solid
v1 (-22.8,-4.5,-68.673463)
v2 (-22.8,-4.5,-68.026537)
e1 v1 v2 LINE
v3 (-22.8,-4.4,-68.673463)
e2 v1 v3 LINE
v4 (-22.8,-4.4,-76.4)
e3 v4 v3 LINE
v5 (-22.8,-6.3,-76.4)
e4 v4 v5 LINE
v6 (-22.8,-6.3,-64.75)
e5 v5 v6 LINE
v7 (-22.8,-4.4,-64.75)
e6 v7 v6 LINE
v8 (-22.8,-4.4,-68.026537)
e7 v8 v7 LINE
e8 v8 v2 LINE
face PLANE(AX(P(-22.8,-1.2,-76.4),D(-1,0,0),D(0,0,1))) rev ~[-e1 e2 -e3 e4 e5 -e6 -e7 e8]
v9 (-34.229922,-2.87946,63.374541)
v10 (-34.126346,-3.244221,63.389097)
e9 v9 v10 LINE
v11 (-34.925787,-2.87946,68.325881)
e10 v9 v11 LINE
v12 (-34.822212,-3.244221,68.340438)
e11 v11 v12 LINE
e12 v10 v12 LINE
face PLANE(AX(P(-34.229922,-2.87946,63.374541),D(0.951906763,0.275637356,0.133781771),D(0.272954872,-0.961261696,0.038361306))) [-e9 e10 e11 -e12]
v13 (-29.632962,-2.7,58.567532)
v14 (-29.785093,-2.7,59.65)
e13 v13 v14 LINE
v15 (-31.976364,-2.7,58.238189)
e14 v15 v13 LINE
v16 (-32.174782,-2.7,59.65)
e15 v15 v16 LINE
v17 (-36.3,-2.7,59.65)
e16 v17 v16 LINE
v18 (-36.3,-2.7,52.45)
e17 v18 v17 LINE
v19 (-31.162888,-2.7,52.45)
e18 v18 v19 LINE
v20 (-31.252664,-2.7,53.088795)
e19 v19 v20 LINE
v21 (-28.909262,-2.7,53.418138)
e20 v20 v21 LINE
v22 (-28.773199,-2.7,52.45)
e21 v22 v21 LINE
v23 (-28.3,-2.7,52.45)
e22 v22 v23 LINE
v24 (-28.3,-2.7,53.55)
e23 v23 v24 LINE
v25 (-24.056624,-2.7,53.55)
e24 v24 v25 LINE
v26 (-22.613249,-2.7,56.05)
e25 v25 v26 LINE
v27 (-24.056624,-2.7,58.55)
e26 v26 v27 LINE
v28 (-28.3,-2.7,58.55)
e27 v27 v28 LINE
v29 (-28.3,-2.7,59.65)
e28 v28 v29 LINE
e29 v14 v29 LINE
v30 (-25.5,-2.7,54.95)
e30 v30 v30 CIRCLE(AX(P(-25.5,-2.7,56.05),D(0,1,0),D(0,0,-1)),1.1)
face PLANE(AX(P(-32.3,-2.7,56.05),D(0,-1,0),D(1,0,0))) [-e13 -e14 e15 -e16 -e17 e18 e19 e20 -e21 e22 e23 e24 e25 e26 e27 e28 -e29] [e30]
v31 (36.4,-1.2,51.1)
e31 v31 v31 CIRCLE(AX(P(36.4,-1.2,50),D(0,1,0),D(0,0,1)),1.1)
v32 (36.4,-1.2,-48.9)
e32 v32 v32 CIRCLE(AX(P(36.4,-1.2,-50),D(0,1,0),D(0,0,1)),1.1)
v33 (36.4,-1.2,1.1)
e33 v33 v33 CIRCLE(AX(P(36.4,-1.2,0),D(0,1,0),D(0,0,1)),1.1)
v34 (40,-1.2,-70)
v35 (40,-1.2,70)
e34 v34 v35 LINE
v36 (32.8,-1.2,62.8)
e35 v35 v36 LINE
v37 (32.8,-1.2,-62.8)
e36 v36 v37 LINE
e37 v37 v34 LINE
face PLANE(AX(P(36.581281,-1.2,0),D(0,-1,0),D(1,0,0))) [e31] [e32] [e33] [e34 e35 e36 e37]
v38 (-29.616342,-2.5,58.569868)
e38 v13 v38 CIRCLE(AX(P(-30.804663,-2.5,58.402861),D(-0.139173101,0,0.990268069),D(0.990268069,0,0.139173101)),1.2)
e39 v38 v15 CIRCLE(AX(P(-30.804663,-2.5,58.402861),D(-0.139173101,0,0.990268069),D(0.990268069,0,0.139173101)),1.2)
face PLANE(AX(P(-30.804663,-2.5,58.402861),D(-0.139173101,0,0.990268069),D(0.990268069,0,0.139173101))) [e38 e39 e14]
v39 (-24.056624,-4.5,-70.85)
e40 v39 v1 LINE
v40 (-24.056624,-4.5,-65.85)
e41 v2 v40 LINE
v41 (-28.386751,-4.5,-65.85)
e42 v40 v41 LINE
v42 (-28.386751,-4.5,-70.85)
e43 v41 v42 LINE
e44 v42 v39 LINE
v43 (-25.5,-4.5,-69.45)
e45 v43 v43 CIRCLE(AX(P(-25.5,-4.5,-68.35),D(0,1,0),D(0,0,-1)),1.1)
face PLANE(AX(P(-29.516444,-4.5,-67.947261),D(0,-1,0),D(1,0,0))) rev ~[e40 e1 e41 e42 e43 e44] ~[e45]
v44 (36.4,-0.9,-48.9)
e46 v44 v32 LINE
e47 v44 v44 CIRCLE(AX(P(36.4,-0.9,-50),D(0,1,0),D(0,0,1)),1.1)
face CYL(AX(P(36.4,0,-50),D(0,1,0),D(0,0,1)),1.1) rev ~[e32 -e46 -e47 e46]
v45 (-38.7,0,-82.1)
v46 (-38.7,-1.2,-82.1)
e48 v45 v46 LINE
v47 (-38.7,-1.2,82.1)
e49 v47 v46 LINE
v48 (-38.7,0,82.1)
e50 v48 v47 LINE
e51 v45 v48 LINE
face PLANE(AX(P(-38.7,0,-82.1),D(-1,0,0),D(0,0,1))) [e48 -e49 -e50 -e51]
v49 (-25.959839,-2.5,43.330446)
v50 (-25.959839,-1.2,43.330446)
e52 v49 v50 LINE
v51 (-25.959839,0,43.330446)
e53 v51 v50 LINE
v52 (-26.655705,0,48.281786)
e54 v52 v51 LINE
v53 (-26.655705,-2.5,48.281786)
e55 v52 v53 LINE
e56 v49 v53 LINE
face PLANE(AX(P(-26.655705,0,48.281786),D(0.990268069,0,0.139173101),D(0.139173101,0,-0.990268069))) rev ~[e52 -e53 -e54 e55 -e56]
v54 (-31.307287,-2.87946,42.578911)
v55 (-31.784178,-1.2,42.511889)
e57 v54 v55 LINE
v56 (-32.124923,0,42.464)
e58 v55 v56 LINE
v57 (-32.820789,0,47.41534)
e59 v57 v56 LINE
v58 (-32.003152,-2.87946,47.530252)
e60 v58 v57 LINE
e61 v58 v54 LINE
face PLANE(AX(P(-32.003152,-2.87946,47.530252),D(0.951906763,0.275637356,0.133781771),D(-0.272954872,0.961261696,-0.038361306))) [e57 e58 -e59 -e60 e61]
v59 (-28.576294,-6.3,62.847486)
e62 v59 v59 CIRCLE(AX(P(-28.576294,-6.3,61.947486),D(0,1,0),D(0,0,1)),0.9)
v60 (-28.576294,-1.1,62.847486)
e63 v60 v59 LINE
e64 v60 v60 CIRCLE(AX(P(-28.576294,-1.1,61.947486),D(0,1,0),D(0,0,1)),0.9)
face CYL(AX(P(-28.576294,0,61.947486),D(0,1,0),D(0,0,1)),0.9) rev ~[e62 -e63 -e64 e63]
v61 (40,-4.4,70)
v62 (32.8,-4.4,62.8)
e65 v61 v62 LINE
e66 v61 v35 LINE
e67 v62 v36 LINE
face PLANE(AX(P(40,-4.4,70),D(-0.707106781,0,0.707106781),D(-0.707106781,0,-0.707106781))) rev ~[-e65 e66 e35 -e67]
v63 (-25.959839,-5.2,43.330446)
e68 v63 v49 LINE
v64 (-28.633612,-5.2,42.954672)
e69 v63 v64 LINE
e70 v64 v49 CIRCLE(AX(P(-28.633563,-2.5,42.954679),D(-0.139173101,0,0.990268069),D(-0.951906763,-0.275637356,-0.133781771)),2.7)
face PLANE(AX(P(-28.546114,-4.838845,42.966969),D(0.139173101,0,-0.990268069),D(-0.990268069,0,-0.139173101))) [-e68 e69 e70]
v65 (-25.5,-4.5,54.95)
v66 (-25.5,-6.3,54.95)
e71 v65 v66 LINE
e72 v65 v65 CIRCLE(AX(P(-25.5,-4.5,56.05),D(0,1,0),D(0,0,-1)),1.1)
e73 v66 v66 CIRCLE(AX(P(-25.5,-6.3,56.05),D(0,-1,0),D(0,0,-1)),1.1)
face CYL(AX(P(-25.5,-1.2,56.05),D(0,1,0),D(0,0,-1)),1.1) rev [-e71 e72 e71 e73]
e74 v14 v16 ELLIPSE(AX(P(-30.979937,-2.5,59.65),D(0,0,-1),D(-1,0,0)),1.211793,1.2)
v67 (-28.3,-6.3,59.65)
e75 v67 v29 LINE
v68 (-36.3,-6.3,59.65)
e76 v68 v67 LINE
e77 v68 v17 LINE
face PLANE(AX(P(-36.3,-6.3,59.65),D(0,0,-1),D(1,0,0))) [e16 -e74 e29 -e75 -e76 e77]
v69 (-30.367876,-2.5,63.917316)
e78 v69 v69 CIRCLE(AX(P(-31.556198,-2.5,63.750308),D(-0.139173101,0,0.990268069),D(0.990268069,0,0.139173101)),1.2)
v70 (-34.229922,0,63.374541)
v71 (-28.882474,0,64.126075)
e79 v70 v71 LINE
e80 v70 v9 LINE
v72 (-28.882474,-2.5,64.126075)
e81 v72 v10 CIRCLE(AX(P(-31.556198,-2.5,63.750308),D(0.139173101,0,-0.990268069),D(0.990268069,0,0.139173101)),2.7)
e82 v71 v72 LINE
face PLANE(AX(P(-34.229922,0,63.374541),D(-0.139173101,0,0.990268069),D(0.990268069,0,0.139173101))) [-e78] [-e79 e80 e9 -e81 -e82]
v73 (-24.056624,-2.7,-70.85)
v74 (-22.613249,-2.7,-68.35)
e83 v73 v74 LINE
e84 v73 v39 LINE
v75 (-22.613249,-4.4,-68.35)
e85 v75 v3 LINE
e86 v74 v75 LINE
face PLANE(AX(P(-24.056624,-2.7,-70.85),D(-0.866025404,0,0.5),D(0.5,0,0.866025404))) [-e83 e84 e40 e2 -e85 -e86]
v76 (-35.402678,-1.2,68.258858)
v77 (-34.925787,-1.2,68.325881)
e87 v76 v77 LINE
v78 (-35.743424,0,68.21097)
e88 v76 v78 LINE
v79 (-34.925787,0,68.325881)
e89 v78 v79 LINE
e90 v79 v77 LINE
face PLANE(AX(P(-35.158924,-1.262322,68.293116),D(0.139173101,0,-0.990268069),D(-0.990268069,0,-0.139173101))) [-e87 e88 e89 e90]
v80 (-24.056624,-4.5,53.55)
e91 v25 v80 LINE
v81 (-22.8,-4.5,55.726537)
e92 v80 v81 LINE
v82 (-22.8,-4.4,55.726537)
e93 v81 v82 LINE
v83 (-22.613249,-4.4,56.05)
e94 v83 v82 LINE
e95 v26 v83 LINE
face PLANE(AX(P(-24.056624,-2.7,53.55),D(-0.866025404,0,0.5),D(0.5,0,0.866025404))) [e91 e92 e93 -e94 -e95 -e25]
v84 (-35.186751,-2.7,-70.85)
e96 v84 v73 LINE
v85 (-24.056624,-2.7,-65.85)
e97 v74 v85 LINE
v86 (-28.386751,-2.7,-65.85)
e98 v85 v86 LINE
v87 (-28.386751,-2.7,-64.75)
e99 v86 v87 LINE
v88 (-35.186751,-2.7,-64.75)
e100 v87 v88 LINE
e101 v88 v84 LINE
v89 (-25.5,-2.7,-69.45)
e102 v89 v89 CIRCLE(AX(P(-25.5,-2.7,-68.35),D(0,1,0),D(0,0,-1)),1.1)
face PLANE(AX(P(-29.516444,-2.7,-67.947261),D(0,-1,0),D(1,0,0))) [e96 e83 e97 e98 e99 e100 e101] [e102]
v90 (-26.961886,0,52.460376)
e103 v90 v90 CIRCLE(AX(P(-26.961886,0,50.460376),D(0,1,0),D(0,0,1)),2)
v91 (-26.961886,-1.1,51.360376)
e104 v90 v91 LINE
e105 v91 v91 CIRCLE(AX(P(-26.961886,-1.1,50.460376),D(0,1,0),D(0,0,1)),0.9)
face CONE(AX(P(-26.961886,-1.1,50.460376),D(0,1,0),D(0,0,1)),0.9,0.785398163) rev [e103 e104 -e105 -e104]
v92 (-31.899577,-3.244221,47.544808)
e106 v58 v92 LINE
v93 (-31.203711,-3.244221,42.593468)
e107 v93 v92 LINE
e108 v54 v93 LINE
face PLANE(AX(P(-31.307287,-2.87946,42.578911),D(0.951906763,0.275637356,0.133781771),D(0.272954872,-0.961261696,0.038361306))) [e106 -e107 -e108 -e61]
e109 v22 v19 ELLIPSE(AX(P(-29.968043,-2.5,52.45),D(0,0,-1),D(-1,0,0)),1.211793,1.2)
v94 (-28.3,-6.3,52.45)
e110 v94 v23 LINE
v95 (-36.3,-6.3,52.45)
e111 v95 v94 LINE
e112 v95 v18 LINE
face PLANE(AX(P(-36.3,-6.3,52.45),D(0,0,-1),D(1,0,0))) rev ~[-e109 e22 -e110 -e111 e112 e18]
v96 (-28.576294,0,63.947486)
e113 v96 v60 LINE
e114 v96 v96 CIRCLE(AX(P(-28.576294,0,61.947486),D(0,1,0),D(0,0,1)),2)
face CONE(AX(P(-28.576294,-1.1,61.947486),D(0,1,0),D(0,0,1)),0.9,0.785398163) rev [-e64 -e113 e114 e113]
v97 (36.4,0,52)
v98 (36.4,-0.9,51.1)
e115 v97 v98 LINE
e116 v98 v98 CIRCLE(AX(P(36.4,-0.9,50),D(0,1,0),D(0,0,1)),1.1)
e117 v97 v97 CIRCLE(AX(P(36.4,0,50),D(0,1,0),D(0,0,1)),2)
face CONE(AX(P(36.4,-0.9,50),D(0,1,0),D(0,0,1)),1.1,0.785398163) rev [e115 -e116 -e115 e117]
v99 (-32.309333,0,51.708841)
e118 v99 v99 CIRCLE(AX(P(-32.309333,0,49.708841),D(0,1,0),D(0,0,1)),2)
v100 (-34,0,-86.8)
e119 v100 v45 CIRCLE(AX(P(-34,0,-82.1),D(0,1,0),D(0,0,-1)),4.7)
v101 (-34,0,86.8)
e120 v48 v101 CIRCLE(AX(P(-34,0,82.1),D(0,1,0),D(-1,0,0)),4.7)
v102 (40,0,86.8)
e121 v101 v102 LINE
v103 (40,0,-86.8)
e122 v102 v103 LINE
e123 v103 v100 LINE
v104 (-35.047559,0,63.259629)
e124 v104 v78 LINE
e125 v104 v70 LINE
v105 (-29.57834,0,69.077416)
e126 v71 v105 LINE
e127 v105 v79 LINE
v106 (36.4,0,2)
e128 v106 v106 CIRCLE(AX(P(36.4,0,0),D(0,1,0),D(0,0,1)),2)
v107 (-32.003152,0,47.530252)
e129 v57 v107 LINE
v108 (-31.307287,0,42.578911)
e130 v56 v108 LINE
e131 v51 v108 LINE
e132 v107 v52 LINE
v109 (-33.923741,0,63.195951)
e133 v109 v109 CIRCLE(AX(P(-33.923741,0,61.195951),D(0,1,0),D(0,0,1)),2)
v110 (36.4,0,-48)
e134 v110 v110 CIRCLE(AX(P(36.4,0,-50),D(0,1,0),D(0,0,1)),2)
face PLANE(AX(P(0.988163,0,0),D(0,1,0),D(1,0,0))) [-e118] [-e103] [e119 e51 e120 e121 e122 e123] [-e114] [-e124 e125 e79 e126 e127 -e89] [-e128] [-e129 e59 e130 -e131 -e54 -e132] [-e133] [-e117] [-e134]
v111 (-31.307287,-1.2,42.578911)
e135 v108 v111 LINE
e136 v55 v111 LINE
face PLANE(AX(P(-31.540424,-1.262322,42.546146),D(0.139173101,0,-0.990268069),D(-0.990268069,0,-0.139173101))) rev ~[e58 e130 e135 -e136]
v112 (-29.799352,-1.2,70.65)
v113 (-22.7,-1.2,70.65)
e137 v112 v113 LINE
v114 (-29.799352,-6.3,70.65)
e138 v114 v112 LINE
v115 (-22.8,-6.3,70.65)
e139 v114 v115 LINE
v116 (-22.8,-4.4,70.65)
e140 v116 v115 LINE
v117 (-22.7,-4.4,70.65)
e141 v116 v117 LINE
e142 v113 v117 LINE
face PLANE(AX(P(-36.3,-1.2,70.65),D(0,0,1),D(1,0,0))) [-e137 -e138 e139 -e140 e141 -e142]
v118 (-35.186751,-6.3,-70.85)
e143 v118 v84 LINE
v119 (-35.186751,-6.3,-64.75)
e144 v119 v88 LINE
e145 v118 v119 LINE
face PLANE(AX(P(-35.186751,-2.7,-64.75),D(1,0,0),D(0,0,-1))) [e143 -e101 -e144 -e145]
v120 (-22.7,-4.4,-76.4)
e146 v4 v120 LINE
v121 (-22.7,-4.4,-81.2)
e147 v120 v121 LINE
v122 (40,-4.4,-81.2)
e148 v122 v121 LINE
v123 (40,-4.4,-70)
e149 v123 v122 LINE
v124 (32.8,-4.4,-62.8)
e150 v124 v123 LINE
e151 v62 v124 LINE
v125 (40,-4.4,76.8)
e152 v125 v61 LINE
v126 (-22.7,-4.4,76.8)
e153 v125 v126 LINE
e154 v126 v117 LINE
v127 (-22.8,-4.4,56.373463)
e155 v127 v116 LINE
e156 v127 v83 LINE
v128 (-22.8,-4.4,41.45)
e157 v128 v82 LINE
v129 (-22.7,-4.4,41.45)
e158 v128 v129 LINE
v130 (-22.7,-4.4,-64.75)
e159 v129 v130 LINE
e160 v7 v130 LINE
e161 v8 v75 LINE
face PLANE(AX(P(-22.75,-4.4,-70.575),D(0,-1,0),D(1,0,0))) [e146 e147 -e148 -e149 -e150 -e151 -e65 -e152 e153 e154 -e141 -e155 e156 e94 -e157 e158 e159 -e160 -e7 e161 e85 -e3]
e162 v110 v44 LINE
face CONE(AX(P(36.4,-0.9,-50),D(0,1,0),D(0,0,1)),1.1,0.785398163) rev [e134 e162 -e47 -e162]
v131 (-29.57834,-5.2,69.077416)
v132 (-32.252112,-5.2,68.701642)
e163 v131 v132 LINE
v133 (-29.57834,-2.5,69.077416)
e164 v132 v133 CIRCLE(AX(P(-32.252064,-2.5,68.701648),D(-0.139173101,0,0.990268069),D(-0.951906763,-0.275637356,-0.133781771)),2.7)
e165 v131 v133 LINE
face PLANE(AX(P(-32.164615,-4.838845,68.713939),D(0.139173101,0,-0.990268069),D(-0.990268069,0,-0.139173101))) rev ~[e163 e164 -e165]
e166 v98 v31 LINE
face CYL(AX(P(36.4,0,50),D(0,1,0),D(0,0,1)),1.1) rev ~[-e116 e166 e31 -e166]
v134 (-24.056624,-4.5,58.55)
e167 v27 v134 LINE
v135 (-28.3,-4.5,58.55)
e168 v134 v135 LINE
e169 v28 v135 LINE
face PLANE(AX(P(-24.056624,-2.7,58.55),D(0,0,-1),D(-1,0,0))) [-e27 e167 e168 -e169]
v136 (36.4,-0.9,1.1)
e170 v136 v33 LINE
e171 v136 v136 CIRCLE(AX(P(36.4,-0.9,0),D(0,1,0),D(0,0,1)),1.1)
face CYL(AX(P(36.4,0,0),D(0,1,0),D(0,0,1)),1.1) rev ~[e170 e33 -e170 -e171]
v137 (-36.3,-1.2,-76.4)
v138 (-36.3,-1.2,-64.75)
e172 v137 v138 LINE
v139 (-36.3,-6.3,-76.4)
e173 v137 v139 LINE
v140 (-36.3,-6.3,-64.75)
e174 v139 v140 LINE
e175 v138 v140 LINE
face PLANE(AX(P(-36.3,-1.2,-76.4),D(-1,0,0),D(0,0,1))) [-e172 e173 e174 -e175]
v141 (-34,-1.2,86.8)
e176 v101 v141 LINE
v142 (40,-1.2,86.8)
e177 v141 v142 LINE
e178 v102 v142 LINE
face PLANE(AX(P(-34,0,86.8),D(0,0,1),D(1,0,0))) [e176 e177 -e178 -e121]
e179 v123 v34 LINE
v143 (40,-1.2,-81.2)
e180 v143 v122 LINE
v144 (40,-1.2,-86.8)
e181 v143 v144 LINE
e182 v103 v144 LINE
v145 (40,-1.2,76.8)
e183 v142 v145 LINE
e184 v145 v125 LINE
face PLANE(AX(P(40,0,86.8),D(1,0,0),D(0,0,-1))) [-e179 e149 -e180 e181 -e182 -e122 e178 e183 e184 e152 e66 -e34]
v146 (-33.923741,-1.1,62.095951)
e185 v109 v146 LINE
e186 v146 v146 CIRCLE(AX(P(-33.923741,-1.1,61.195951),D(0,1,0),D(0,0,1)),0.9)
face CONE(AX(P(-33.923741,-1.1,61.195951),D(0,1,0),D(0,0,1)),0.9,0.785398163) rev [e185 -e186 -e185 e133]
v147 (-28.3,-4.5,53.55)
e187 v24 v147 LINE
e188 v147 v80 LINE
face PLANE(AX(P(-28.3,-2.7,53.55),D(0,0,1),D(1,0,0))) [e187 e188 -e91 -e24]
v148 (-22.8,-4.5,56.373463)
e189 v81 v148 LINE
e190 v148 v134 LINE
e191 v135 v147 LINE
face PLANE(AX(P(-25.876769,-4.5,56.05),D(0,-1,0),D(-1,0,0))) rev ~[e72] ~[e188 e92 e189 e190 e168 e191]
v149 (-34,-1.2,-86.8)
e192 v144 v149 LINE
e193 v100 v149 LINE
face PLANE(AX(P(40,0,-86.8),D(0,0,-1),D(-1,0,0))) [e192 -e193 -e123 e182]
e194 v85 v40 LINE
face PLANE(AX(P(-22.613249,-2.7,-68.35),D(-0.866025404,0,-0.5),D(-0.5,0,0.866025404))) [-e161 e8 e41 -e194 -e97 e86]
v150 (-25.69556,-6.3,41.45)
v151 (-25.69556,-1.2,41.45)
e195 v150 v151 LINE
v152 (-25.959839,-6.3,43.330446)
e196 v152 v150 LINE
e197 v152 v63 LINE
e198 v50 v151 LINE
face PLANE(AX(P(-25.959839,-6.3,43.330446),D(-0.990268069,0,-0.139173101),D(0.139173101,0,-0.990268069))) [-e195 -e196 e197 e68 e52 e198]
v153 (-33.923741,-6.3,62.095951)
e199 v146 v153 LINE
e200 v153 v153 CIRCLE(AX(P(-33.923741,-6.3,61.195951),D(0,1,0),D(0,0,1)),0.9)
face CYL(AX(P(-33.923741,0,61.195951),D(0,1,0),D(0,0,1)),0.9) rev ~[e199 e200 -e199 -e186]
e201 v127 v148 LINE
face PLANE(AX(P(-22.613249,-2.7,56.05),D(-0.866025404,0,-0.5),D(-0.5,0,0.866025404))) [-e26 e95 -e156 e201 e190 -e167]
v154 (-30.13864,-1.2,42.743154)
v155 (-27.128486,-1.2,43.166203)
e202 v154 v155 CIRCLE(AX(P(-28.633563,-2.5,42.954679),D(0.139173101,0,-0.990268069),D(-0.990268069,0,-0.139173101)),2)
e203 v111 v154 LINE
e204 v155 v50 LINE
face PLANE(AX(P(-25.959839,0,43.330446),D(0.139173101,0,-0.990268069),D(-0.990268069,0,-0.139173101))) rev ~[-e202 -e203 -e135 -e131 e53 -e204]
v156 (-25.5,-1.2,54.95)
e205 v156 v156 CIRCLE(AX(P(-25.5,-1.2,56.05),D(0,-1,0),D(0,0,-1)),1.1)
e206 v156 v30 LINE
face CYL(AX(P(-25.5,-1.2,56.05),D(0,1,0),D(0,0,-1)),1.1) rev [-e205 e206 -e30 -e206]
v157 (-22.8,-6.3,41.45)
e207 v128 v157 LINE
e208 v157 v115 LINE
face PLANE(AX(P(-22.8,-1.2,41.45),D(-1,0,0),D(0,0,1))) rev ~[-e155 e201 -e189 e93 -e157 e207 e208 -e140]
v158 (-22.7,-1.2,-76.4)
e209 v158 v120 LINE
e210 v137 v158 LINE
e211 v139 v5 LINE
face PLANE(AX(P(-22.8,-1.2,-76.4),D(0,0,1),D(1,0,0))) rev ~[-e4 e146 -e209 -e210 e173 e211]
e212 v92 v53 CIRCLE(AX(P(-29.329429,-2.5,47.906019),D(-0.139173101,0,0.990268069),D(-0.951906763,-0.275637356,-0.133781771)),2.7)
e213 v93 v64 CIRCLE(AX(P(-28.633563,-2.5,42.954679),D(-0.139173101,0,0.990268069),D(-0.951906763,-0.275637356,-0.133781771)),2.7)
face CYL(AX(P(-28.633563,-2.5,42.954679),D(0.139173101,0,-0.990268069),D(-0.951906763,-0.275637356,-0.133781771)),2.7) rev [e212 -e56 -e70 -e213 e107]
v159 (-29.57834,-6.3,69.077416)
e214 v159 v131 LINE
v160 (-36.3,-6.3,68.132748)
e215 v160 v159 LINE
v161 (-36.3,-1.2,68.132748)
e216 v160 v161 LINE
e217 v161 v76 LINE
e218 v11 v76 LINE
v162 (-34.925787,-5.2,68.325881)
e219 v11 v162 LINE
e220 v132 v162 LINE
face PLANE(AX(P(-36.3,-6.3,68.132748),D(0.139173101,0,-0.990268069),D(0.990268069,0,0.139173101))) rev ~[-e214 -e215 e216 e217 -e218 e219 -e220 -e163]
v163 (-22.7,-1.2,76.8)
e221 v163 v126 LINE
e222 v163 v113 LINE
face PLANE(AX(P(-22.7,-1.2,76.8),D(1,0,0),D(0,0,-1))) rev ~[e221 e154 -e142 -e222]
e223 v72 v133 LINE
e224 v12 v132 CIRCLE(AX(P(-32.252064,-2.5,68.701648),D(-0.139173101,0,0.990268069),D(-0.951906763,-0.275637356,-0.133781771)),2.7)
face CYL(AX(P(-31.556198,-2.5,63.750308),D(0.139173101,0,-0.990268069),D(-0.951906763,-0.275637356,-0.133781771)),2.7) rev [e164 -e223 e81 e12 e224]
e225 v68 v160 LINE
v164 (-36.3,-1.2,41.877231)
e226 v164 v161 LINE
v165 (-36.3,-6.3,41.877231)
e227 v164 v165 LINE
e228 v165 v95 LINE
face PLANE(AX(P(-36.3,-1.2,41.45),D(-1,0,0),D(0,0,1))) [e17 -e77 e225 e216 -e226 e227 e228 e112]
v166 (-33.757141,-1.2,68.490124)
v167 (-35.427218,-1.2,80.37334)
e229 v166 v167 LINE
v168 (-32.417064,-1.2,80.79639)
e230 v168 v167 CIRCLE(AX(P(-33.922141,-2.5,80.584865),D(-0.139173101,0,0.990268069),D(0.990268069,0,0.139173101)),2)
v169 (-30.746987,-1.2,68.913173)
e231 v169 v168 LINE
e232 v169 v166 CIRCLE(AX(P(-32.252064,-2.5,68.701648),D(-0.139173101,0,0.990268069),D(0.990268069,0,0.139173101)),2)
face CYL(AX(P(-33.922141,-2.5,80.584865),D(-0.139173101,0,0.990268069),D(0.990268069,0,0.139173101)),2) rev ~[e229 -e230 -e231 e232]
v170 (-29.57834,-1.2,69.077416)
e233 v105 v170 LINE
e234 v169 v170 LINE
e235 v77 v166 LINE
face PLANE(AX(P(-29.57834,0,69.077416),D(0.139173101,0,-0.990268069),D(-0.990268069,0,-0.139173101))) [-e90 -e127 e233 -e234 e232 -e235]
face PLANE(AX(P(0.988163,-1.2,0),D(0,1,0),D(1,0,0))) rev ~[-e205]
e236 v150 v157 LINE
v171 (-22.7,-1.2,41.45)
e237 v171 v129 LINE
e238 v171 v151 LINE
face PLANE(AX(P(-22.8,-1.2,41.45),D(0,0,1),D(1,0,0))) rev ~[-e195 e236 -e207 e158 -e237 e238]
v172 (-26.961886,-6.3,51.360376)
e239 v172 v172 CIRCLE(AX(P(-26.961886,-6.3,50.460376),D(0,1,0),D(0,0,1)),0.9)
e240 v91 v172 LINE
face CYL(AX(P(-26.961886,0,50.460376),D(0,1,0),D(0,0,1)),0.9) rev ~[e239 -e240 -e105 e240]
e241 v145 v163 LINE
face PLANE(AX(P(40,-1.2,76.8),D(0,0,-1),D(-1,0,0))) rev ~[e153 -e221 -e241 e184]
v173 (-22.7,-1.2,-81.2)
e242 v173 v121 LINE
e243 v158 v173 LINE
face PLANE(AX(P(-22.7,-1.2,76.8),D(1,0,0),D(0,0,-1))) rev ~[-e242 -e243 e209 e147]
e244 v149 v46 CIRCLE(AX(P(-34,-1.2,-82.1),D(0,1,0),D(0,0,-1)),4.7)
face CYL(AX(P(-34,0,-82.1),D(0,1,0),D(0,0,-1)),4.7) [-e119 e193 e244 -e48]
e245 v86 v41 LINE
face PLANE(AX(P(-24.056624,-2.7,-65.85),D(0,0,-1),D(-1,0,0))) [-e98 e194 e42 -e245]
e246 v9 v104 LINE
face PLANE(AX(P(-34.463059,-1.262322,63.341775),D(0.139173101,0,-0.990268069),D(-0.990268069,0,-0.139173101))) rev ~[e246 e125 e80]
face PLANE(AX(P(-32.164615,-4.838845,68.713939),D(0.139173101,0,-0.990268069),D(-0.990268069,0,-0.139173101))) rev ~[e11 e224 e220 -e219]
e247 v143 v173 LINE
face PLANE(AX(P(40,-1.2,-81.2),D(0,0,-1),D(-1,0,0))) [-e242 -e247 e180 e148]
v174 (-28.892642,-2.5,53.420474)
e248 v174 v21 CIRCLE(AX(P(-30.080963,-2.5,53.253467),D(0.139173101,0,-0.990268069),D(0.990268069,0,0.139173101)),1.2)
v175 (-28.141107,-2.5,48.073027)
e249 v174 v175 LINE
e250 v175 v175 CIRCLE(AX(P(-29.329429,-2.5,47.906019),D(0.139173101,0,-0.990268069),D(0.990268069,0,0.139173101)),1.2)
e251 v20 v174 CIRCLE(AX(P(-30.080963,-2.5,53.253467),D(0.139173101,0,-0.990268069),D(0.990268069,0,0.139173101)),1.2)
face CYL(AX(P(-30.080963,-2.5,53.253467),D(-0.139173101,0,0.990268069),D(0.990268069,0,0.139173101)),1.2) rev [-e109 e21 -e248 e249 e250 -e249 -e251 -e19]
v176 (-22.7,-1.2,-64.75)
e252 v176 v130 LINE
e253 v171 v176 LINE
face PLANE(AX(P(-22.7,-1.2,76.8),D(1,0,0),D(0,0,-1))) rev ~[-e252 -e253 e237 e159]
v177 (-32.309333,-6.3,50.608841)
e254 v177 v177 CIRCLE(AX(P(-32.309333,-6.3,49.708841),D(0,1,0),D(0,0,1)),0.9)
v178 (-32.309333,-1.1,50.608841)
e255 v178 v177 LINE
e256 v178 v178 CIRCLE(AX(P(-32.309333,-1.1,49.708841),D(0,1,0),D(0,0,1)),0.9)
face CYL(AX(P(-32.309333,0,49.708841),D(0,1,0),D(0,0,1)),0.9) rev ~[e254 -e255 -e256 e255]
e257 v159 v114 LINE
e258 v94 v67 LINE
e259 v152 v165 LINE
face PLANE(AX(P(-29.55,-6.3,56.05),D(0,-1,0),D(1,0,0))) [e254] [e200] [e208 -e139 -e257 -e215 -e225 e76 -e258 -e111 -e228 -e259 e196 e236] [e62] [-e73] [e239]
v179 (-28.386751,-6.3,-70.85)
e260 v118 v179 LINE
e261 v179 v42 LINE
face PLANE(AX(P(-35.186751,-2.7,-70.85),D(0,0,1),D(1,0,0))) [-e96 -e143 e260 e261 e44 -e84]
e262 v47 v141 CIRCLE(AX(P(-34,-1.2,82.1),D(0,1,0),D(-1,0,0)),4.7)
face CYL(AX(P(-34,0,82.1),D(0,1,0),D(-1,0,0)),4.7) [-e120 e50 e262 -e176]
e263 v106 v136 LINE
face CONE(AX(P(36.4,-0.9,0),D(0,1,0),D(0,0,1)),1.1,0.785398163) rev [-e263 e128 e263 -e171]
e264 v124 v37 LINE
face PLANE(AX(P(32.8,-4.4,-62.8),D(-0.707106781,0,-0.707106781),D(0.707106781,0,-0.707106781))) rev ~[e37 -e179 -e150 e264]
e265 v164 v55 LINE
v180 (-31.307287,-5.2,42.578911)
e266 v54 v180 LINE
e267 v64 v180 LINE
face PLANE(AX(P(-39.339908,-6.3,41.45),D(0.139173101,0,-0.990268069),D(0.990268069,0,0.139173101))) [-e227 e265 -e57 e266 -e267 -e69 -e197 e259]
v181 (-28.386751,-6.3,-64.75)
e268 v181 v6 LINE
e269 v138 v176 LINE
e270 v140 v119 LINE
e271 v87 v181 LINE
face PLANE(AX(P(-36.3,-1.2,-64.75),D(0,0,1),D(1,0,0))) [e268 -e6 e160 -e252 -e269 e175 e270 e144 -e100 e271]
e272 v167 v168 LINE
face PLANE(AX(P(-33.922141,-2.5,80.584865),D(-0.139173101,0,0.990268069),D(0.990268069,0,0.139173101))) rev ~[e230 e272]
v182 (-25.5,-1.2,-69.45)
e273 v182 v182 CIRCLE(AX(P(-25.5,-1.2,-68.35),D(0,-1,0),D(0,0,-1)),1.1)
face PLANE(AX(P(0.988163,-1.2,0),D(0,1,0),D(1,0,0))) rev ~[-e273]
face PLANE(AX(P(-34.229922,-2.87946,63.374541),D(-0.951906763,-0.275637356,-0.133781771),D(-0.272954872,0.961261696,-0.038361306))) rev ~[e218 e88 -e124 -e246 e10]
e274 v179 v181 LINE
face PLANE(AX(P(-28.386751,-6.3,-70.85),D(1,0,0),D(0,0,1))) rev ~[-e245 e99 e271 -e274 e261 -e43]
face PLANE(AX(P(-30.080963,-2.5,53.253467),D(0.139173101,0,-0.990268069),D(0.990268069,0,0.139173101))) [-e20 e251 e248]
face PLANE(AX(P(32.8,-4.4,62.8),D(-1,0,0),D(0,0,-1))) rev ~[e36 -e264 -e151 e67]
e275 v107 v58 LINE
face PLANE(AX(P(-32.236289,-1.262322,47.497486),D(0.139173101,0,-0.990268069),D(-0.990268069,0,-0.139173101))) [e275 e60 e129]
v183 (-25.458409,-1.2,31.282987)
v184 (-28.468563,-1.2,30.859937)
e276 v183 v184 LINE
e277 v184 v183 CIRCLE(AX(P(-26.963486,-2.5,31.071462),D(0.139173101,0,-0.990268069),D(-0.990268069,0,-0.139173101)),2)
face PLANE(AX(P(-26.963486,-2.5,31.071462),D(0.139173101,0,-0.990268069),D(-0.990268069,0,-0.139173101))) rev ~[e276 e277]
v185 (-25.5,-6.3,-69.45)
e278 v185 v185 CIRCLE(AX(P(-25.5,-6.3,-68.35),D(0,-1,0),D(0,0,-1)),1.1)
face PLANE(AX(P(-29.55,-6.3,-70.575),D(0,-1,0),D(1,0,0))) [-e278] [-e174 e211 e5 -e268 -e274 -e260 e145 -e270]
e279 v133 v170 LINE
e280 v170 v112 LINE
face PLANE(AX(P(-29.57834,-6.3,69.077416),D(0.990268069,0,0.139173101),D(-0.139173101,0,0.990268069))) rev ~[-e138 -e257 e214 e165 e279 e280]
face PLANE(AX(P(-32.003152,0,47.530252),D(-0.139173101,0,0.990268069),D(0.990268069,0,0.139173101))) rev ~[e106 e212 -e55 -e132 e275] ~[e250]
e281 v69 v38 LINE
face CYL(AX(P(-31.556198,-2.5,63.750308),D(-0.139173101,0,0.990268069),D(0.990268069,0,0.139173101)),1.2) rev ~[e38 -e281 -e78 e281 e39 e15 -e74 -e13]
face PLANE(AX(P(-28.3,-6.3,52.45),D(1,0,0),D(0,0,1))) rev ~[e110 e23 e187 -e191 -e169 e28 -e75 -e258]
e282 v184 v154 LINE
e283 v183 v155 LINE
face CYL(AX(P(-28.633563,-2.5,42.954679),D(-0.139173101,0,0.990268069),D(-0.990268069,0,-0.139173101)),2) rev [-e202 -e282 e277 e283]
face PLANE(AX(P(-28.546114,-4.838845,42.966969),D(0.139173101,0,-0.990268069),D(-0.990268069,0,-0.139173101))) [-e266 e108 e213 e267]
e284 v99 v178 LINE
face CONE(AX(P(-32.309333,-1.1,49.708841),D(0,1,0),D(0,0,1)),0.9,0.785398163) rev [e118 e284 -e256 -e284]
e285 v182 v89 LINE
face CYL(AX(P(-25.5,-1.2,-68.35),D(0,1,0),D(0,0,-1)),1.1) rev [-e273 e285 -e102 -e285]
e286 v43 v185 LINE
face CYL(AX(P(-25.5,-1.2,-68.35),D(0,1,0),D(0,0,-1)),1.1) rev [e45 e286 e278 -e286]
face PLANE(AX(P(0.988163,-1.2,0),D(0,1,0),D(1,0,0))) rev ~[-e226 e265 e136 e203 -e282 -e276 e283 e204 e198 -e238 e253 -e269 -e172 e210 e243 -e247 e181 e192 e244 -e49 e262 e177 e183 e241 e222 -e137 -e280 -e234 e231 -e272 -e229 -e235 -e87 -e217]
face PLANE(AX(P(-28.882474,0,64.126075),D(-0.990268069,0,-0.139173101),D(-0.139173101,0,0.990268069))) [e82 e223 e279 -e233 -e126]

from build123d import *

# Parameters (mm, degrees)
BOSS_EXTRUDE1_DEPTH = 1.2
SKETCH4_W           = 62.7
SKETCH4_H           = 158
BOSS_EXTRUDE3_DEPTH = 3.2
SKETCH6_W           = 13.5
SKETCH6_H           = 11.65
SKETCH6_R           = 1.1
SKETCH6_H_2         = 29.2
BOSS_EXTRUDE4_DEPTH = 5.1
SKETCH7_W           = 0.1
SKETCH7_H           = 11.65
SKETCH7_H_2         = 29.2
BOSS_EXTRUDE5_DEPTH = 3.2
CUT_EXTRUDE5_DEPTH  = 5.1
CUT_EXTRUDE6_DEPTH  = 5.2
SKETCH11_R          = 1.2
CUT_EXTRUDE7_DEPTH  = 5.4
CUT_EXTRUDE8_DEPTH  = 5
BOSS_EXTRUDE6_DEPTH = 5
CUT_EXTRUDE9_DEPTH  = 5
BOSS_EXTRUDE7_START = 5
BOSS_EXTRUDE7_DEPTH = 5
SKETCH20_W          = 8
SKETCH20_H          = 7.2
CUT_EXTRUDE10_DEPTH = 3.6
CUT_EXTRUDE12_DEPTH = 1.8
CUT_EXTRUDE13_START = -5.4
SKETCH23_R          = 1.2
CUT_EXTRUDE13_DEPTH = 5.4
SKETCH24_R          = 0.9
CUT_EXTRUDE14_DEPTH = 96.780634786
CHAMFER1_SIZE       = 1.1
SKETCH26_R          = 2
CUT_EXTRUDE15_DEPTH = 12
CUT_EXTRUDE16_START = 12
SKETCH27_R          = 2
CUT_EXTRUDE16_DEPTH = 12
CUT_EXTRUDE17_START = -3.6
CUT_EXTRUDE17_DEPTH = 1.8
CUT_EXTRUDE18_REACH = 97.781
SKETCH29_W          = 6.8
SKETCH29_H          = 6.1
CUT_EXTRUDE19_DEPTH = 3.2
CUT_EXTRUDE20_REACH = 97.781
SKETCH32_R          = 1.1
CHAMFER2_SIZE       = 0.9


with BuildPart() as part:
    # Sketch1 → Boss-Extrude1 (new body)
    with BuildSketch(Plane(origin=(0, 0, 0), x_dir=(1, 0, 0), z_dir=(0, 1, 0))):
        with BuildLine():
            Line((40, 86.8), (-34, 86.8))
            ThreePointArc((-34, 86.8), (-37.323401872, 85.423401872), (-38.7, 82.1))
            Line((-38.7, 82.1), (-38.7, -82.1))
            ThreePointArc((-38.7, -82.1), (-37.323401872, -85.423401872), (-34, -86.8))
            Line((-34, -86.8), (40, -86.8))
            Line((40, -86.8), (40, 86.8))
        make_face()
    extrude(amount=-BOSS_EXTRUDE1_DEPTH)

    # Sketch4 → Boss-Extrude3 (add)
    with BuildSketch(Plane(origin=(0, -1.2, 0), x_dir=(-1, 0, 0), z_dir=(0, -1, 0))):
        with Locations((-8.65, 2.2)):
            Rectangle(SKETCH4_W, SKETCH4_H)
    extrude(amount=BOSS_EXTRUDE3_DEPTH)

    # Sketch6 → Boss-Extrude4 (add)
    # profile 1 of 2: a face of its own
    with BuildSketch(Plane.XZ.offset(1.2)):
        with Locations((-29.55, -70.575)):
            Rectangle(SKETCH6_W, SKETCH6_H)
        with Locations(Location((-25.5, -68.35, 0), (0, 0, 270))):
            Circle(SKETCH6_R, mode=Mode.SUBTRACT)
    # profile 2 of 2: a face of its own
    with BuildSketch(Plane.XZ.offset(1.2)):
        with Locations((-29.55, 56.05)):
            Rectangle(SKETCH6_W, SKETCH6_H_2)
        with Locations(Location((-25.5, 56.05, 0), (0, 0, 270))):
            Circle(SKETCH6_R, mode=Mode.SUBTRACT)
    extrude(amount=BOSS_EXTRUDE4_DEPTH)

    # Sketch7 → Boss-Extrude5 (add)
    with BuildSketch(Plane.XZ.offset(1.2)):
        with Locations((-22.75, -70.575)):
            Rectangle(SKETCH7_W, SKETCH7_H)
        with Locations((-22.75, 56.05)):
            Rectangle(SKETCH7_W, SKETCH7_H_2)
    extrude(amount=BOSS_EXTRUDE5_DEPTH)

    # Sketch10 → Cut-Extrude5 (cut)
    with BuildSketch(Plane.XZ.offset(6.3)):
        Polygon((-25.959839262, 43.33044604), (-25.695559806, 41.45), (-39.339908081, 41.45), align=None)
        Polygon((-29.578339887, 69.077415827), (-29.79935218, 70.65), (-36.3, 70.65), (-36.3, 68.132748105), align=None)
    extrude(amount=-CUT_EXTRUDE5_DEPTH, mode=Mode.SUBTRACT)

    # Sketch9 → Cut-Extrude6 (cut)
    with BuildSketch(Plane(origin=(0, 0, 0), x_dir=(1, 0, 0), z_dir=(0, 1, 0))):
        Polygon((-34.925787458, -68.325881082), (-34.229921954, -63.374540738), (-28.882474382, -64.126075484), (-29.578339887, -69.077415827), align=None)
        Polygon((-25.959839262, -43.33044604), (-31.307286833, -42.578911295), (-32.003152338, -47.530251639), (-26.655704767, -48.281786384), align=None)
    extrude(amount=-CUT_EXTRUDE6_DEPTH, mode=Mode.SUBTRACT)

    # Sketch11 → Cut-Extrude7 (cut)
    with BuildSketch(Plane(origin=(-9.39719998, 0, 66.864552213), x_dir=(0.9902680687415714, 0, 0.13917310096005855), z_dir=(-0.13917310096005855, 0, 0.9902680687415714))):
        with Locations((-22.37676735, -2.5)):
            Circle(SKETCH11_R)
    extrude(amount=-CUT_EXTRUDE7_DEPTH, mode=Mode.SUBTRACT)

    # Sketch15 → Cut-Extrude8 (cut)
    with BuildSketch(Plane(origin=(-9.39719998, 0, 66.864552213), x_dir=(0.9902680687415714, 0, 0.13917310096005855), z_dir=(-0.13917310096005855, 0, 0.9902680687415714))):
        Polygon((-25.902439291, 0), (-25.07676735, 0), (-25.07676735, -2.879460254), align=None)
    extrude(amount=CUT_EXTRUDE8_DEPTH, mode=Mode.SUBTRACT)

    # Sketch17 → Boss-Extrude6 (add)
    with BuildSketch(Plane(origin=(-9.39719998, 0, 66.864552213), x_dir=(0.9902680687415714, 0, 0.13917310096005855), z_dir=(-0.13917310096005855, 0, 0.9902680687415714))):
        with BuildLine():
            Line((-25.07676735, -2.879460254), (-24.972173929, -3.244220861))
            ThreePointArc((-24.972173929, -3.244220861), (-22.000999977, -5.173723786), (-19.67676735, -2.5))
            Line((-19.67676735, -2.5), (-19.67676735, -6.3))
            Line((-19.67676735, -6.3), (-25.07676735, -6.3))
            Line((-25.07676735, -6.3), (-25.07676735, -2.879460254))
        make_face()
    extrude(amount=BOSS_EXTRUDE6_DEPTH)

    # Sketch18 → Cut-Extrude9 (cut)
    with BuildSketch(Plane(origin=(-7.170430365, 0, 51.020263113), x_dir=(-0.9902680687415715, 0, -0.13917310096005736), z_dir=(0.13917310096005736, 0, -0.9902680687415715))):
        Polygon((25.902439291, 0), (25.07676735, 0), (25.07676735, -2.879460254), align=None)
    extrude(amount=CUT_EXTRUDE9_DEPTH, mode=Mode.SUBTRACT)

    # Sketch19 → Boss-Extrude7 (add)
    with BuildSketch(Plane(origin=(-7.170430365, 0, 51.020263113), x_dir=(-0.9902680687415715, 0, -0.13917310096005736), z_dir=(0.13917310096005736, 0, -0.9902680687415715)).offset(BOSS_EXTRUDE7_START)):
        with BuildLine():
            Line((25.07676735, -2.879460254), (24.972173929, -3.244220861))
            ThreePointArc((24.972173929, -3.244220861), (22.000999977, -5.173723786), (19.67676735, -2.5))
            Line((19.67676735, -2.5), (19.67676735, -6.3))
            Line((19.67676735, -6.3), (25.07676735, -6.3))
            Line((25.07676735, -6.3), (25.07676735, -2.879460254))
        make_face()
    extrude(amount=-BOSS_EXTRUDE7_DEPTH)

    # Sketch20 → Cut-Extrude10 (cut)
    with BuildSketch(Plane.XZ.offset(6.3)):
        with Locations((-32.3, 56.05)):
            Rectangle(SKETCH20_W, SKETCH20_H)
    extrude(amount=-CUT_EXTRUDE10_DEPTH, mode=Mode.SUBTRACT)

    # Sketch22 → Cut-Extrude12 (cut)
    with BuildSketch(Plane(origin=(0, -2.7, 0), x_dir=(-1, 0, 0), z_dir=(0, -1, 0))):
        Polygon((24.056624327, -58.55), (26.943375673, -58.55), (28.3, -58.55), (28.3, -53.55), (26.943375673, -53.55), (24.056624327, -53.55), (22.613248654, -56.05), align=None)
    extrude(amount=CUT_EXTRUDE12_DEPTH, mode=Mode.SUBTRACT)

    # Sketch23 → Cut-Extrude13 (cut)
    with BuildSketch(Plane(origin=(-7.170430365, 0, 51.020263113), x_dir=(-0.9902680687415715, 0, -0.13917310096005736), z_dir=(0.13917310096005736, 0, -0.9902680687415715)).offset(CUT_EXTRUDE13_START)):
        with Locations(Location((22.37676735, -2.5, 0), (0, 0, 180))):
            Circle(SKETCH23_R)
    extrude(amount=CUT_EXTRUDE13_DEPTH, mode=Mode.SUBTRACT)

    # Sketch24 → Cut-Extrude14 (cut, through all)
    with BuildSketch(Plane(origin=(0, 0, 0), x_dir=(1, 0, 0), z_dir=(0, 1, 0))):
        with Locations(Location((-32.30933316, -49.70884139, 0), (0, 0, 270))):
            Circle(SKETCH24_R)
        with Locations(Location((-26.961885589, -50.460376135, 0), (0, 0, 270))):
            Circle(SKETCH24_R)
        with Locations(Location((-28.57629356, -61.947485732, 0), (0, 0, 270))):
            Circle(SKETCH24_R)
        with Locations(Location((-33.923741132, -61.195950987, 0), (0, 0, 270))):
            Circle(SKETCH24_R)
    extrude(amount=-CUT_EXTRUDE14_DEPTH, mode=Mode.SUBTRACT)

    # Chamfer1
    chamfer1_edges = [part.edges().sort_by_distance(p)[0] for p in [
        (-32.30933316, 0, 48.80884139),
        (-33.923741132, 0, 60.295950987),
        (-28.57629356, 0, 61.047485732),
        (-26.961885589, 0, 49.560376135),
    ]]
    chamfer(chamfer1_edges, length=CHAMFER1_SIZE)

    # Sketch26 → Cut-Extrude15 (cut)
    with BuildSketch(Plane(origin=(-6.47456486, 0, 46.068922769), x_dir=(-0.9902680687415714, 0, -0.13917310096005867), z_dir=(0.13917310096005867, 0, -0.9902680687415714))):
        with Locations((22.37676735, -2.5)):
            Circle(SKETCH26_R)
    extrude(amount=CUT_EXTRUDE15_DEPTH, mode=Mode.SUBTRACT)

    # Sketch27 → Cut-Extrude16 (cut)
    with BuildSketch(Plane(origin=(-10.093065485, 0, 71.815892556), x_dir=(0.9902680687415714, 0, 0.1391731009600588), z_dir=(-0.1391731009600588, 0, 0.9902680687415714)).offset(CUT_EXTRUDE16_START)):
        with Locations((-22.37676735, -2.5)):
            Circle(SKETCH27_R)
    extrude(amount=-CUT_EXTRUDE16_DEPTH, mode=Mode.SUBTRACT)

    # Sketch28 → Cut-Extrude17 (cut)
    with BuildSketch(Plane.XZ.offset(6.3).offset(CUT_EXTRUDE17_START)):
        Polygon((-26.943375673, -70.85), (-24.056624327, -70.85), (-22.613248654, -68.35), (-24.056624327, -65.85), (-26.943375673, -65.85), (-28.386751346, -65.85), (-28.386751346, -64.75), (-35.186751346, -64.75), (-35.186751346, -70.85), align=None)
    extrude(amount=CUT_EXTRUDE17_DEPTH, mode=Mode.SUBTRACT)

    # Sketch29 → Cut-Extrude18 (cut, up to next)
    with BuildSketch(Plane.XZ.offset(6.3), mode=Mode.PRIVATE) as cut_extrude18_sk1:
        with Locations((-31.786751346, -67.8)):
            Rectangle(SKETCH29_W, SKETCH29_H)
    cut_extrude18_tool1 = extrude(cut_extrude18_sk1.sketch, amount=-CUT_EXTRUDE18_REACH, mode=Mode.PRIVATE) & part.part
    add(cut_extrude18_tool1.solids().sort_by_distance((-31.786751, -6.3, -67.8))[0], mode=Mode.SUBTRACT)

    # Sketch31 → Cut-Extrude19 (cut)
    with BuildSketch(Plane.XZ.offset(4.4)):
        Polygon((40, 70), (32.8, 62.8), (32.8, -62.8), (40, -70), align=None)
    extrude(amount=-CUT_EXTRUDE19_DEPTH, mode=Mode.SUBTRACT)

    # Sketch32 → Cut-Extrude20 (cut, up to next)
    with BuildSketch(Plane(origin=(0, 0, 0), x_dir=(1, 0, 0), z_dir=(0, 1, 0)), mode=Mode.PRIVATE) as cut_extrude20_sk1:
        with Locations(Location((36.4, 50, 0), (0, 0, 270))):
            Circle(SKETCH32_R)
    cut_extrude20_tool1 = extrude(cut_extrude20_sk1.sketch, amount=-CUT_EXTRUDE20_REACH, mode=Mode.PRIVATE) & part.part
    # Sketch32 → Cut-Extrude20 (cut, up to next)
    with BuildSketch(Plane(origin=(0, 0, 0), x_dir=(1, 0, 0), z_dir=(0, 1, 0)), mode=Mode.PRIVATE) as cut_extrude20_sk2:
        with Locations(Location((36.4, 0, 0), (0, 0, 270))):
            Circle(SKETCH32_R)
    cut_extrude20_tool2 = extrude(cut_extrude20_sk2.sketch, amount=-CUT_EXTRUDE20_REACH, mode=Mode.PRIVATE) & part.part
    # Sketch32 → Cut-Extrude20 (cut, up to next)
    with BuildSketch(Plane(origin=(0, 0, 0), x_dir=(1, 0, 0), z_dir=(0, 1, 0)), mode=Mode.PRIVATE) as cut_extrude20_sk3:
        with Locations(Location((36.4, -50, 0), (0, 0, 270))):
            Circle(SKETCH32_R)
    cut_extrude20_tool3 = extrude(cut_extrude20_sk3.sketch, amount=-CUT_EXTRUDE20_REACH, mode=Mode.PRIVATE) & part.part
    add(cut_extrude20_tool1.solids().sort_by_distance((36.4, 0, -50))[0], mode=Mode.SUBTRACT)
    add(cut_extrude20_tool2.solids().sort_by_distance((36.4, 0, 0))[0], mode=Mode.SUBTRACT)
    add(cut_extrude20_tool3.solids().sort_by_distance((36.4, 0, 50))[0], mode=Mode.SUBTRACT)

    # Chamfer2
    chamfer2_edges = [part.edges().sort_by_distance(p)[0] for p in [
        (36.4, 0, -51.1),
        (36.4, 0, -1.1),
        (36.4, 0, 48.9),
    ]]
    chamfer(chamfer2_edges, length=CHAMFER2_SIZE)


solid = part.part
